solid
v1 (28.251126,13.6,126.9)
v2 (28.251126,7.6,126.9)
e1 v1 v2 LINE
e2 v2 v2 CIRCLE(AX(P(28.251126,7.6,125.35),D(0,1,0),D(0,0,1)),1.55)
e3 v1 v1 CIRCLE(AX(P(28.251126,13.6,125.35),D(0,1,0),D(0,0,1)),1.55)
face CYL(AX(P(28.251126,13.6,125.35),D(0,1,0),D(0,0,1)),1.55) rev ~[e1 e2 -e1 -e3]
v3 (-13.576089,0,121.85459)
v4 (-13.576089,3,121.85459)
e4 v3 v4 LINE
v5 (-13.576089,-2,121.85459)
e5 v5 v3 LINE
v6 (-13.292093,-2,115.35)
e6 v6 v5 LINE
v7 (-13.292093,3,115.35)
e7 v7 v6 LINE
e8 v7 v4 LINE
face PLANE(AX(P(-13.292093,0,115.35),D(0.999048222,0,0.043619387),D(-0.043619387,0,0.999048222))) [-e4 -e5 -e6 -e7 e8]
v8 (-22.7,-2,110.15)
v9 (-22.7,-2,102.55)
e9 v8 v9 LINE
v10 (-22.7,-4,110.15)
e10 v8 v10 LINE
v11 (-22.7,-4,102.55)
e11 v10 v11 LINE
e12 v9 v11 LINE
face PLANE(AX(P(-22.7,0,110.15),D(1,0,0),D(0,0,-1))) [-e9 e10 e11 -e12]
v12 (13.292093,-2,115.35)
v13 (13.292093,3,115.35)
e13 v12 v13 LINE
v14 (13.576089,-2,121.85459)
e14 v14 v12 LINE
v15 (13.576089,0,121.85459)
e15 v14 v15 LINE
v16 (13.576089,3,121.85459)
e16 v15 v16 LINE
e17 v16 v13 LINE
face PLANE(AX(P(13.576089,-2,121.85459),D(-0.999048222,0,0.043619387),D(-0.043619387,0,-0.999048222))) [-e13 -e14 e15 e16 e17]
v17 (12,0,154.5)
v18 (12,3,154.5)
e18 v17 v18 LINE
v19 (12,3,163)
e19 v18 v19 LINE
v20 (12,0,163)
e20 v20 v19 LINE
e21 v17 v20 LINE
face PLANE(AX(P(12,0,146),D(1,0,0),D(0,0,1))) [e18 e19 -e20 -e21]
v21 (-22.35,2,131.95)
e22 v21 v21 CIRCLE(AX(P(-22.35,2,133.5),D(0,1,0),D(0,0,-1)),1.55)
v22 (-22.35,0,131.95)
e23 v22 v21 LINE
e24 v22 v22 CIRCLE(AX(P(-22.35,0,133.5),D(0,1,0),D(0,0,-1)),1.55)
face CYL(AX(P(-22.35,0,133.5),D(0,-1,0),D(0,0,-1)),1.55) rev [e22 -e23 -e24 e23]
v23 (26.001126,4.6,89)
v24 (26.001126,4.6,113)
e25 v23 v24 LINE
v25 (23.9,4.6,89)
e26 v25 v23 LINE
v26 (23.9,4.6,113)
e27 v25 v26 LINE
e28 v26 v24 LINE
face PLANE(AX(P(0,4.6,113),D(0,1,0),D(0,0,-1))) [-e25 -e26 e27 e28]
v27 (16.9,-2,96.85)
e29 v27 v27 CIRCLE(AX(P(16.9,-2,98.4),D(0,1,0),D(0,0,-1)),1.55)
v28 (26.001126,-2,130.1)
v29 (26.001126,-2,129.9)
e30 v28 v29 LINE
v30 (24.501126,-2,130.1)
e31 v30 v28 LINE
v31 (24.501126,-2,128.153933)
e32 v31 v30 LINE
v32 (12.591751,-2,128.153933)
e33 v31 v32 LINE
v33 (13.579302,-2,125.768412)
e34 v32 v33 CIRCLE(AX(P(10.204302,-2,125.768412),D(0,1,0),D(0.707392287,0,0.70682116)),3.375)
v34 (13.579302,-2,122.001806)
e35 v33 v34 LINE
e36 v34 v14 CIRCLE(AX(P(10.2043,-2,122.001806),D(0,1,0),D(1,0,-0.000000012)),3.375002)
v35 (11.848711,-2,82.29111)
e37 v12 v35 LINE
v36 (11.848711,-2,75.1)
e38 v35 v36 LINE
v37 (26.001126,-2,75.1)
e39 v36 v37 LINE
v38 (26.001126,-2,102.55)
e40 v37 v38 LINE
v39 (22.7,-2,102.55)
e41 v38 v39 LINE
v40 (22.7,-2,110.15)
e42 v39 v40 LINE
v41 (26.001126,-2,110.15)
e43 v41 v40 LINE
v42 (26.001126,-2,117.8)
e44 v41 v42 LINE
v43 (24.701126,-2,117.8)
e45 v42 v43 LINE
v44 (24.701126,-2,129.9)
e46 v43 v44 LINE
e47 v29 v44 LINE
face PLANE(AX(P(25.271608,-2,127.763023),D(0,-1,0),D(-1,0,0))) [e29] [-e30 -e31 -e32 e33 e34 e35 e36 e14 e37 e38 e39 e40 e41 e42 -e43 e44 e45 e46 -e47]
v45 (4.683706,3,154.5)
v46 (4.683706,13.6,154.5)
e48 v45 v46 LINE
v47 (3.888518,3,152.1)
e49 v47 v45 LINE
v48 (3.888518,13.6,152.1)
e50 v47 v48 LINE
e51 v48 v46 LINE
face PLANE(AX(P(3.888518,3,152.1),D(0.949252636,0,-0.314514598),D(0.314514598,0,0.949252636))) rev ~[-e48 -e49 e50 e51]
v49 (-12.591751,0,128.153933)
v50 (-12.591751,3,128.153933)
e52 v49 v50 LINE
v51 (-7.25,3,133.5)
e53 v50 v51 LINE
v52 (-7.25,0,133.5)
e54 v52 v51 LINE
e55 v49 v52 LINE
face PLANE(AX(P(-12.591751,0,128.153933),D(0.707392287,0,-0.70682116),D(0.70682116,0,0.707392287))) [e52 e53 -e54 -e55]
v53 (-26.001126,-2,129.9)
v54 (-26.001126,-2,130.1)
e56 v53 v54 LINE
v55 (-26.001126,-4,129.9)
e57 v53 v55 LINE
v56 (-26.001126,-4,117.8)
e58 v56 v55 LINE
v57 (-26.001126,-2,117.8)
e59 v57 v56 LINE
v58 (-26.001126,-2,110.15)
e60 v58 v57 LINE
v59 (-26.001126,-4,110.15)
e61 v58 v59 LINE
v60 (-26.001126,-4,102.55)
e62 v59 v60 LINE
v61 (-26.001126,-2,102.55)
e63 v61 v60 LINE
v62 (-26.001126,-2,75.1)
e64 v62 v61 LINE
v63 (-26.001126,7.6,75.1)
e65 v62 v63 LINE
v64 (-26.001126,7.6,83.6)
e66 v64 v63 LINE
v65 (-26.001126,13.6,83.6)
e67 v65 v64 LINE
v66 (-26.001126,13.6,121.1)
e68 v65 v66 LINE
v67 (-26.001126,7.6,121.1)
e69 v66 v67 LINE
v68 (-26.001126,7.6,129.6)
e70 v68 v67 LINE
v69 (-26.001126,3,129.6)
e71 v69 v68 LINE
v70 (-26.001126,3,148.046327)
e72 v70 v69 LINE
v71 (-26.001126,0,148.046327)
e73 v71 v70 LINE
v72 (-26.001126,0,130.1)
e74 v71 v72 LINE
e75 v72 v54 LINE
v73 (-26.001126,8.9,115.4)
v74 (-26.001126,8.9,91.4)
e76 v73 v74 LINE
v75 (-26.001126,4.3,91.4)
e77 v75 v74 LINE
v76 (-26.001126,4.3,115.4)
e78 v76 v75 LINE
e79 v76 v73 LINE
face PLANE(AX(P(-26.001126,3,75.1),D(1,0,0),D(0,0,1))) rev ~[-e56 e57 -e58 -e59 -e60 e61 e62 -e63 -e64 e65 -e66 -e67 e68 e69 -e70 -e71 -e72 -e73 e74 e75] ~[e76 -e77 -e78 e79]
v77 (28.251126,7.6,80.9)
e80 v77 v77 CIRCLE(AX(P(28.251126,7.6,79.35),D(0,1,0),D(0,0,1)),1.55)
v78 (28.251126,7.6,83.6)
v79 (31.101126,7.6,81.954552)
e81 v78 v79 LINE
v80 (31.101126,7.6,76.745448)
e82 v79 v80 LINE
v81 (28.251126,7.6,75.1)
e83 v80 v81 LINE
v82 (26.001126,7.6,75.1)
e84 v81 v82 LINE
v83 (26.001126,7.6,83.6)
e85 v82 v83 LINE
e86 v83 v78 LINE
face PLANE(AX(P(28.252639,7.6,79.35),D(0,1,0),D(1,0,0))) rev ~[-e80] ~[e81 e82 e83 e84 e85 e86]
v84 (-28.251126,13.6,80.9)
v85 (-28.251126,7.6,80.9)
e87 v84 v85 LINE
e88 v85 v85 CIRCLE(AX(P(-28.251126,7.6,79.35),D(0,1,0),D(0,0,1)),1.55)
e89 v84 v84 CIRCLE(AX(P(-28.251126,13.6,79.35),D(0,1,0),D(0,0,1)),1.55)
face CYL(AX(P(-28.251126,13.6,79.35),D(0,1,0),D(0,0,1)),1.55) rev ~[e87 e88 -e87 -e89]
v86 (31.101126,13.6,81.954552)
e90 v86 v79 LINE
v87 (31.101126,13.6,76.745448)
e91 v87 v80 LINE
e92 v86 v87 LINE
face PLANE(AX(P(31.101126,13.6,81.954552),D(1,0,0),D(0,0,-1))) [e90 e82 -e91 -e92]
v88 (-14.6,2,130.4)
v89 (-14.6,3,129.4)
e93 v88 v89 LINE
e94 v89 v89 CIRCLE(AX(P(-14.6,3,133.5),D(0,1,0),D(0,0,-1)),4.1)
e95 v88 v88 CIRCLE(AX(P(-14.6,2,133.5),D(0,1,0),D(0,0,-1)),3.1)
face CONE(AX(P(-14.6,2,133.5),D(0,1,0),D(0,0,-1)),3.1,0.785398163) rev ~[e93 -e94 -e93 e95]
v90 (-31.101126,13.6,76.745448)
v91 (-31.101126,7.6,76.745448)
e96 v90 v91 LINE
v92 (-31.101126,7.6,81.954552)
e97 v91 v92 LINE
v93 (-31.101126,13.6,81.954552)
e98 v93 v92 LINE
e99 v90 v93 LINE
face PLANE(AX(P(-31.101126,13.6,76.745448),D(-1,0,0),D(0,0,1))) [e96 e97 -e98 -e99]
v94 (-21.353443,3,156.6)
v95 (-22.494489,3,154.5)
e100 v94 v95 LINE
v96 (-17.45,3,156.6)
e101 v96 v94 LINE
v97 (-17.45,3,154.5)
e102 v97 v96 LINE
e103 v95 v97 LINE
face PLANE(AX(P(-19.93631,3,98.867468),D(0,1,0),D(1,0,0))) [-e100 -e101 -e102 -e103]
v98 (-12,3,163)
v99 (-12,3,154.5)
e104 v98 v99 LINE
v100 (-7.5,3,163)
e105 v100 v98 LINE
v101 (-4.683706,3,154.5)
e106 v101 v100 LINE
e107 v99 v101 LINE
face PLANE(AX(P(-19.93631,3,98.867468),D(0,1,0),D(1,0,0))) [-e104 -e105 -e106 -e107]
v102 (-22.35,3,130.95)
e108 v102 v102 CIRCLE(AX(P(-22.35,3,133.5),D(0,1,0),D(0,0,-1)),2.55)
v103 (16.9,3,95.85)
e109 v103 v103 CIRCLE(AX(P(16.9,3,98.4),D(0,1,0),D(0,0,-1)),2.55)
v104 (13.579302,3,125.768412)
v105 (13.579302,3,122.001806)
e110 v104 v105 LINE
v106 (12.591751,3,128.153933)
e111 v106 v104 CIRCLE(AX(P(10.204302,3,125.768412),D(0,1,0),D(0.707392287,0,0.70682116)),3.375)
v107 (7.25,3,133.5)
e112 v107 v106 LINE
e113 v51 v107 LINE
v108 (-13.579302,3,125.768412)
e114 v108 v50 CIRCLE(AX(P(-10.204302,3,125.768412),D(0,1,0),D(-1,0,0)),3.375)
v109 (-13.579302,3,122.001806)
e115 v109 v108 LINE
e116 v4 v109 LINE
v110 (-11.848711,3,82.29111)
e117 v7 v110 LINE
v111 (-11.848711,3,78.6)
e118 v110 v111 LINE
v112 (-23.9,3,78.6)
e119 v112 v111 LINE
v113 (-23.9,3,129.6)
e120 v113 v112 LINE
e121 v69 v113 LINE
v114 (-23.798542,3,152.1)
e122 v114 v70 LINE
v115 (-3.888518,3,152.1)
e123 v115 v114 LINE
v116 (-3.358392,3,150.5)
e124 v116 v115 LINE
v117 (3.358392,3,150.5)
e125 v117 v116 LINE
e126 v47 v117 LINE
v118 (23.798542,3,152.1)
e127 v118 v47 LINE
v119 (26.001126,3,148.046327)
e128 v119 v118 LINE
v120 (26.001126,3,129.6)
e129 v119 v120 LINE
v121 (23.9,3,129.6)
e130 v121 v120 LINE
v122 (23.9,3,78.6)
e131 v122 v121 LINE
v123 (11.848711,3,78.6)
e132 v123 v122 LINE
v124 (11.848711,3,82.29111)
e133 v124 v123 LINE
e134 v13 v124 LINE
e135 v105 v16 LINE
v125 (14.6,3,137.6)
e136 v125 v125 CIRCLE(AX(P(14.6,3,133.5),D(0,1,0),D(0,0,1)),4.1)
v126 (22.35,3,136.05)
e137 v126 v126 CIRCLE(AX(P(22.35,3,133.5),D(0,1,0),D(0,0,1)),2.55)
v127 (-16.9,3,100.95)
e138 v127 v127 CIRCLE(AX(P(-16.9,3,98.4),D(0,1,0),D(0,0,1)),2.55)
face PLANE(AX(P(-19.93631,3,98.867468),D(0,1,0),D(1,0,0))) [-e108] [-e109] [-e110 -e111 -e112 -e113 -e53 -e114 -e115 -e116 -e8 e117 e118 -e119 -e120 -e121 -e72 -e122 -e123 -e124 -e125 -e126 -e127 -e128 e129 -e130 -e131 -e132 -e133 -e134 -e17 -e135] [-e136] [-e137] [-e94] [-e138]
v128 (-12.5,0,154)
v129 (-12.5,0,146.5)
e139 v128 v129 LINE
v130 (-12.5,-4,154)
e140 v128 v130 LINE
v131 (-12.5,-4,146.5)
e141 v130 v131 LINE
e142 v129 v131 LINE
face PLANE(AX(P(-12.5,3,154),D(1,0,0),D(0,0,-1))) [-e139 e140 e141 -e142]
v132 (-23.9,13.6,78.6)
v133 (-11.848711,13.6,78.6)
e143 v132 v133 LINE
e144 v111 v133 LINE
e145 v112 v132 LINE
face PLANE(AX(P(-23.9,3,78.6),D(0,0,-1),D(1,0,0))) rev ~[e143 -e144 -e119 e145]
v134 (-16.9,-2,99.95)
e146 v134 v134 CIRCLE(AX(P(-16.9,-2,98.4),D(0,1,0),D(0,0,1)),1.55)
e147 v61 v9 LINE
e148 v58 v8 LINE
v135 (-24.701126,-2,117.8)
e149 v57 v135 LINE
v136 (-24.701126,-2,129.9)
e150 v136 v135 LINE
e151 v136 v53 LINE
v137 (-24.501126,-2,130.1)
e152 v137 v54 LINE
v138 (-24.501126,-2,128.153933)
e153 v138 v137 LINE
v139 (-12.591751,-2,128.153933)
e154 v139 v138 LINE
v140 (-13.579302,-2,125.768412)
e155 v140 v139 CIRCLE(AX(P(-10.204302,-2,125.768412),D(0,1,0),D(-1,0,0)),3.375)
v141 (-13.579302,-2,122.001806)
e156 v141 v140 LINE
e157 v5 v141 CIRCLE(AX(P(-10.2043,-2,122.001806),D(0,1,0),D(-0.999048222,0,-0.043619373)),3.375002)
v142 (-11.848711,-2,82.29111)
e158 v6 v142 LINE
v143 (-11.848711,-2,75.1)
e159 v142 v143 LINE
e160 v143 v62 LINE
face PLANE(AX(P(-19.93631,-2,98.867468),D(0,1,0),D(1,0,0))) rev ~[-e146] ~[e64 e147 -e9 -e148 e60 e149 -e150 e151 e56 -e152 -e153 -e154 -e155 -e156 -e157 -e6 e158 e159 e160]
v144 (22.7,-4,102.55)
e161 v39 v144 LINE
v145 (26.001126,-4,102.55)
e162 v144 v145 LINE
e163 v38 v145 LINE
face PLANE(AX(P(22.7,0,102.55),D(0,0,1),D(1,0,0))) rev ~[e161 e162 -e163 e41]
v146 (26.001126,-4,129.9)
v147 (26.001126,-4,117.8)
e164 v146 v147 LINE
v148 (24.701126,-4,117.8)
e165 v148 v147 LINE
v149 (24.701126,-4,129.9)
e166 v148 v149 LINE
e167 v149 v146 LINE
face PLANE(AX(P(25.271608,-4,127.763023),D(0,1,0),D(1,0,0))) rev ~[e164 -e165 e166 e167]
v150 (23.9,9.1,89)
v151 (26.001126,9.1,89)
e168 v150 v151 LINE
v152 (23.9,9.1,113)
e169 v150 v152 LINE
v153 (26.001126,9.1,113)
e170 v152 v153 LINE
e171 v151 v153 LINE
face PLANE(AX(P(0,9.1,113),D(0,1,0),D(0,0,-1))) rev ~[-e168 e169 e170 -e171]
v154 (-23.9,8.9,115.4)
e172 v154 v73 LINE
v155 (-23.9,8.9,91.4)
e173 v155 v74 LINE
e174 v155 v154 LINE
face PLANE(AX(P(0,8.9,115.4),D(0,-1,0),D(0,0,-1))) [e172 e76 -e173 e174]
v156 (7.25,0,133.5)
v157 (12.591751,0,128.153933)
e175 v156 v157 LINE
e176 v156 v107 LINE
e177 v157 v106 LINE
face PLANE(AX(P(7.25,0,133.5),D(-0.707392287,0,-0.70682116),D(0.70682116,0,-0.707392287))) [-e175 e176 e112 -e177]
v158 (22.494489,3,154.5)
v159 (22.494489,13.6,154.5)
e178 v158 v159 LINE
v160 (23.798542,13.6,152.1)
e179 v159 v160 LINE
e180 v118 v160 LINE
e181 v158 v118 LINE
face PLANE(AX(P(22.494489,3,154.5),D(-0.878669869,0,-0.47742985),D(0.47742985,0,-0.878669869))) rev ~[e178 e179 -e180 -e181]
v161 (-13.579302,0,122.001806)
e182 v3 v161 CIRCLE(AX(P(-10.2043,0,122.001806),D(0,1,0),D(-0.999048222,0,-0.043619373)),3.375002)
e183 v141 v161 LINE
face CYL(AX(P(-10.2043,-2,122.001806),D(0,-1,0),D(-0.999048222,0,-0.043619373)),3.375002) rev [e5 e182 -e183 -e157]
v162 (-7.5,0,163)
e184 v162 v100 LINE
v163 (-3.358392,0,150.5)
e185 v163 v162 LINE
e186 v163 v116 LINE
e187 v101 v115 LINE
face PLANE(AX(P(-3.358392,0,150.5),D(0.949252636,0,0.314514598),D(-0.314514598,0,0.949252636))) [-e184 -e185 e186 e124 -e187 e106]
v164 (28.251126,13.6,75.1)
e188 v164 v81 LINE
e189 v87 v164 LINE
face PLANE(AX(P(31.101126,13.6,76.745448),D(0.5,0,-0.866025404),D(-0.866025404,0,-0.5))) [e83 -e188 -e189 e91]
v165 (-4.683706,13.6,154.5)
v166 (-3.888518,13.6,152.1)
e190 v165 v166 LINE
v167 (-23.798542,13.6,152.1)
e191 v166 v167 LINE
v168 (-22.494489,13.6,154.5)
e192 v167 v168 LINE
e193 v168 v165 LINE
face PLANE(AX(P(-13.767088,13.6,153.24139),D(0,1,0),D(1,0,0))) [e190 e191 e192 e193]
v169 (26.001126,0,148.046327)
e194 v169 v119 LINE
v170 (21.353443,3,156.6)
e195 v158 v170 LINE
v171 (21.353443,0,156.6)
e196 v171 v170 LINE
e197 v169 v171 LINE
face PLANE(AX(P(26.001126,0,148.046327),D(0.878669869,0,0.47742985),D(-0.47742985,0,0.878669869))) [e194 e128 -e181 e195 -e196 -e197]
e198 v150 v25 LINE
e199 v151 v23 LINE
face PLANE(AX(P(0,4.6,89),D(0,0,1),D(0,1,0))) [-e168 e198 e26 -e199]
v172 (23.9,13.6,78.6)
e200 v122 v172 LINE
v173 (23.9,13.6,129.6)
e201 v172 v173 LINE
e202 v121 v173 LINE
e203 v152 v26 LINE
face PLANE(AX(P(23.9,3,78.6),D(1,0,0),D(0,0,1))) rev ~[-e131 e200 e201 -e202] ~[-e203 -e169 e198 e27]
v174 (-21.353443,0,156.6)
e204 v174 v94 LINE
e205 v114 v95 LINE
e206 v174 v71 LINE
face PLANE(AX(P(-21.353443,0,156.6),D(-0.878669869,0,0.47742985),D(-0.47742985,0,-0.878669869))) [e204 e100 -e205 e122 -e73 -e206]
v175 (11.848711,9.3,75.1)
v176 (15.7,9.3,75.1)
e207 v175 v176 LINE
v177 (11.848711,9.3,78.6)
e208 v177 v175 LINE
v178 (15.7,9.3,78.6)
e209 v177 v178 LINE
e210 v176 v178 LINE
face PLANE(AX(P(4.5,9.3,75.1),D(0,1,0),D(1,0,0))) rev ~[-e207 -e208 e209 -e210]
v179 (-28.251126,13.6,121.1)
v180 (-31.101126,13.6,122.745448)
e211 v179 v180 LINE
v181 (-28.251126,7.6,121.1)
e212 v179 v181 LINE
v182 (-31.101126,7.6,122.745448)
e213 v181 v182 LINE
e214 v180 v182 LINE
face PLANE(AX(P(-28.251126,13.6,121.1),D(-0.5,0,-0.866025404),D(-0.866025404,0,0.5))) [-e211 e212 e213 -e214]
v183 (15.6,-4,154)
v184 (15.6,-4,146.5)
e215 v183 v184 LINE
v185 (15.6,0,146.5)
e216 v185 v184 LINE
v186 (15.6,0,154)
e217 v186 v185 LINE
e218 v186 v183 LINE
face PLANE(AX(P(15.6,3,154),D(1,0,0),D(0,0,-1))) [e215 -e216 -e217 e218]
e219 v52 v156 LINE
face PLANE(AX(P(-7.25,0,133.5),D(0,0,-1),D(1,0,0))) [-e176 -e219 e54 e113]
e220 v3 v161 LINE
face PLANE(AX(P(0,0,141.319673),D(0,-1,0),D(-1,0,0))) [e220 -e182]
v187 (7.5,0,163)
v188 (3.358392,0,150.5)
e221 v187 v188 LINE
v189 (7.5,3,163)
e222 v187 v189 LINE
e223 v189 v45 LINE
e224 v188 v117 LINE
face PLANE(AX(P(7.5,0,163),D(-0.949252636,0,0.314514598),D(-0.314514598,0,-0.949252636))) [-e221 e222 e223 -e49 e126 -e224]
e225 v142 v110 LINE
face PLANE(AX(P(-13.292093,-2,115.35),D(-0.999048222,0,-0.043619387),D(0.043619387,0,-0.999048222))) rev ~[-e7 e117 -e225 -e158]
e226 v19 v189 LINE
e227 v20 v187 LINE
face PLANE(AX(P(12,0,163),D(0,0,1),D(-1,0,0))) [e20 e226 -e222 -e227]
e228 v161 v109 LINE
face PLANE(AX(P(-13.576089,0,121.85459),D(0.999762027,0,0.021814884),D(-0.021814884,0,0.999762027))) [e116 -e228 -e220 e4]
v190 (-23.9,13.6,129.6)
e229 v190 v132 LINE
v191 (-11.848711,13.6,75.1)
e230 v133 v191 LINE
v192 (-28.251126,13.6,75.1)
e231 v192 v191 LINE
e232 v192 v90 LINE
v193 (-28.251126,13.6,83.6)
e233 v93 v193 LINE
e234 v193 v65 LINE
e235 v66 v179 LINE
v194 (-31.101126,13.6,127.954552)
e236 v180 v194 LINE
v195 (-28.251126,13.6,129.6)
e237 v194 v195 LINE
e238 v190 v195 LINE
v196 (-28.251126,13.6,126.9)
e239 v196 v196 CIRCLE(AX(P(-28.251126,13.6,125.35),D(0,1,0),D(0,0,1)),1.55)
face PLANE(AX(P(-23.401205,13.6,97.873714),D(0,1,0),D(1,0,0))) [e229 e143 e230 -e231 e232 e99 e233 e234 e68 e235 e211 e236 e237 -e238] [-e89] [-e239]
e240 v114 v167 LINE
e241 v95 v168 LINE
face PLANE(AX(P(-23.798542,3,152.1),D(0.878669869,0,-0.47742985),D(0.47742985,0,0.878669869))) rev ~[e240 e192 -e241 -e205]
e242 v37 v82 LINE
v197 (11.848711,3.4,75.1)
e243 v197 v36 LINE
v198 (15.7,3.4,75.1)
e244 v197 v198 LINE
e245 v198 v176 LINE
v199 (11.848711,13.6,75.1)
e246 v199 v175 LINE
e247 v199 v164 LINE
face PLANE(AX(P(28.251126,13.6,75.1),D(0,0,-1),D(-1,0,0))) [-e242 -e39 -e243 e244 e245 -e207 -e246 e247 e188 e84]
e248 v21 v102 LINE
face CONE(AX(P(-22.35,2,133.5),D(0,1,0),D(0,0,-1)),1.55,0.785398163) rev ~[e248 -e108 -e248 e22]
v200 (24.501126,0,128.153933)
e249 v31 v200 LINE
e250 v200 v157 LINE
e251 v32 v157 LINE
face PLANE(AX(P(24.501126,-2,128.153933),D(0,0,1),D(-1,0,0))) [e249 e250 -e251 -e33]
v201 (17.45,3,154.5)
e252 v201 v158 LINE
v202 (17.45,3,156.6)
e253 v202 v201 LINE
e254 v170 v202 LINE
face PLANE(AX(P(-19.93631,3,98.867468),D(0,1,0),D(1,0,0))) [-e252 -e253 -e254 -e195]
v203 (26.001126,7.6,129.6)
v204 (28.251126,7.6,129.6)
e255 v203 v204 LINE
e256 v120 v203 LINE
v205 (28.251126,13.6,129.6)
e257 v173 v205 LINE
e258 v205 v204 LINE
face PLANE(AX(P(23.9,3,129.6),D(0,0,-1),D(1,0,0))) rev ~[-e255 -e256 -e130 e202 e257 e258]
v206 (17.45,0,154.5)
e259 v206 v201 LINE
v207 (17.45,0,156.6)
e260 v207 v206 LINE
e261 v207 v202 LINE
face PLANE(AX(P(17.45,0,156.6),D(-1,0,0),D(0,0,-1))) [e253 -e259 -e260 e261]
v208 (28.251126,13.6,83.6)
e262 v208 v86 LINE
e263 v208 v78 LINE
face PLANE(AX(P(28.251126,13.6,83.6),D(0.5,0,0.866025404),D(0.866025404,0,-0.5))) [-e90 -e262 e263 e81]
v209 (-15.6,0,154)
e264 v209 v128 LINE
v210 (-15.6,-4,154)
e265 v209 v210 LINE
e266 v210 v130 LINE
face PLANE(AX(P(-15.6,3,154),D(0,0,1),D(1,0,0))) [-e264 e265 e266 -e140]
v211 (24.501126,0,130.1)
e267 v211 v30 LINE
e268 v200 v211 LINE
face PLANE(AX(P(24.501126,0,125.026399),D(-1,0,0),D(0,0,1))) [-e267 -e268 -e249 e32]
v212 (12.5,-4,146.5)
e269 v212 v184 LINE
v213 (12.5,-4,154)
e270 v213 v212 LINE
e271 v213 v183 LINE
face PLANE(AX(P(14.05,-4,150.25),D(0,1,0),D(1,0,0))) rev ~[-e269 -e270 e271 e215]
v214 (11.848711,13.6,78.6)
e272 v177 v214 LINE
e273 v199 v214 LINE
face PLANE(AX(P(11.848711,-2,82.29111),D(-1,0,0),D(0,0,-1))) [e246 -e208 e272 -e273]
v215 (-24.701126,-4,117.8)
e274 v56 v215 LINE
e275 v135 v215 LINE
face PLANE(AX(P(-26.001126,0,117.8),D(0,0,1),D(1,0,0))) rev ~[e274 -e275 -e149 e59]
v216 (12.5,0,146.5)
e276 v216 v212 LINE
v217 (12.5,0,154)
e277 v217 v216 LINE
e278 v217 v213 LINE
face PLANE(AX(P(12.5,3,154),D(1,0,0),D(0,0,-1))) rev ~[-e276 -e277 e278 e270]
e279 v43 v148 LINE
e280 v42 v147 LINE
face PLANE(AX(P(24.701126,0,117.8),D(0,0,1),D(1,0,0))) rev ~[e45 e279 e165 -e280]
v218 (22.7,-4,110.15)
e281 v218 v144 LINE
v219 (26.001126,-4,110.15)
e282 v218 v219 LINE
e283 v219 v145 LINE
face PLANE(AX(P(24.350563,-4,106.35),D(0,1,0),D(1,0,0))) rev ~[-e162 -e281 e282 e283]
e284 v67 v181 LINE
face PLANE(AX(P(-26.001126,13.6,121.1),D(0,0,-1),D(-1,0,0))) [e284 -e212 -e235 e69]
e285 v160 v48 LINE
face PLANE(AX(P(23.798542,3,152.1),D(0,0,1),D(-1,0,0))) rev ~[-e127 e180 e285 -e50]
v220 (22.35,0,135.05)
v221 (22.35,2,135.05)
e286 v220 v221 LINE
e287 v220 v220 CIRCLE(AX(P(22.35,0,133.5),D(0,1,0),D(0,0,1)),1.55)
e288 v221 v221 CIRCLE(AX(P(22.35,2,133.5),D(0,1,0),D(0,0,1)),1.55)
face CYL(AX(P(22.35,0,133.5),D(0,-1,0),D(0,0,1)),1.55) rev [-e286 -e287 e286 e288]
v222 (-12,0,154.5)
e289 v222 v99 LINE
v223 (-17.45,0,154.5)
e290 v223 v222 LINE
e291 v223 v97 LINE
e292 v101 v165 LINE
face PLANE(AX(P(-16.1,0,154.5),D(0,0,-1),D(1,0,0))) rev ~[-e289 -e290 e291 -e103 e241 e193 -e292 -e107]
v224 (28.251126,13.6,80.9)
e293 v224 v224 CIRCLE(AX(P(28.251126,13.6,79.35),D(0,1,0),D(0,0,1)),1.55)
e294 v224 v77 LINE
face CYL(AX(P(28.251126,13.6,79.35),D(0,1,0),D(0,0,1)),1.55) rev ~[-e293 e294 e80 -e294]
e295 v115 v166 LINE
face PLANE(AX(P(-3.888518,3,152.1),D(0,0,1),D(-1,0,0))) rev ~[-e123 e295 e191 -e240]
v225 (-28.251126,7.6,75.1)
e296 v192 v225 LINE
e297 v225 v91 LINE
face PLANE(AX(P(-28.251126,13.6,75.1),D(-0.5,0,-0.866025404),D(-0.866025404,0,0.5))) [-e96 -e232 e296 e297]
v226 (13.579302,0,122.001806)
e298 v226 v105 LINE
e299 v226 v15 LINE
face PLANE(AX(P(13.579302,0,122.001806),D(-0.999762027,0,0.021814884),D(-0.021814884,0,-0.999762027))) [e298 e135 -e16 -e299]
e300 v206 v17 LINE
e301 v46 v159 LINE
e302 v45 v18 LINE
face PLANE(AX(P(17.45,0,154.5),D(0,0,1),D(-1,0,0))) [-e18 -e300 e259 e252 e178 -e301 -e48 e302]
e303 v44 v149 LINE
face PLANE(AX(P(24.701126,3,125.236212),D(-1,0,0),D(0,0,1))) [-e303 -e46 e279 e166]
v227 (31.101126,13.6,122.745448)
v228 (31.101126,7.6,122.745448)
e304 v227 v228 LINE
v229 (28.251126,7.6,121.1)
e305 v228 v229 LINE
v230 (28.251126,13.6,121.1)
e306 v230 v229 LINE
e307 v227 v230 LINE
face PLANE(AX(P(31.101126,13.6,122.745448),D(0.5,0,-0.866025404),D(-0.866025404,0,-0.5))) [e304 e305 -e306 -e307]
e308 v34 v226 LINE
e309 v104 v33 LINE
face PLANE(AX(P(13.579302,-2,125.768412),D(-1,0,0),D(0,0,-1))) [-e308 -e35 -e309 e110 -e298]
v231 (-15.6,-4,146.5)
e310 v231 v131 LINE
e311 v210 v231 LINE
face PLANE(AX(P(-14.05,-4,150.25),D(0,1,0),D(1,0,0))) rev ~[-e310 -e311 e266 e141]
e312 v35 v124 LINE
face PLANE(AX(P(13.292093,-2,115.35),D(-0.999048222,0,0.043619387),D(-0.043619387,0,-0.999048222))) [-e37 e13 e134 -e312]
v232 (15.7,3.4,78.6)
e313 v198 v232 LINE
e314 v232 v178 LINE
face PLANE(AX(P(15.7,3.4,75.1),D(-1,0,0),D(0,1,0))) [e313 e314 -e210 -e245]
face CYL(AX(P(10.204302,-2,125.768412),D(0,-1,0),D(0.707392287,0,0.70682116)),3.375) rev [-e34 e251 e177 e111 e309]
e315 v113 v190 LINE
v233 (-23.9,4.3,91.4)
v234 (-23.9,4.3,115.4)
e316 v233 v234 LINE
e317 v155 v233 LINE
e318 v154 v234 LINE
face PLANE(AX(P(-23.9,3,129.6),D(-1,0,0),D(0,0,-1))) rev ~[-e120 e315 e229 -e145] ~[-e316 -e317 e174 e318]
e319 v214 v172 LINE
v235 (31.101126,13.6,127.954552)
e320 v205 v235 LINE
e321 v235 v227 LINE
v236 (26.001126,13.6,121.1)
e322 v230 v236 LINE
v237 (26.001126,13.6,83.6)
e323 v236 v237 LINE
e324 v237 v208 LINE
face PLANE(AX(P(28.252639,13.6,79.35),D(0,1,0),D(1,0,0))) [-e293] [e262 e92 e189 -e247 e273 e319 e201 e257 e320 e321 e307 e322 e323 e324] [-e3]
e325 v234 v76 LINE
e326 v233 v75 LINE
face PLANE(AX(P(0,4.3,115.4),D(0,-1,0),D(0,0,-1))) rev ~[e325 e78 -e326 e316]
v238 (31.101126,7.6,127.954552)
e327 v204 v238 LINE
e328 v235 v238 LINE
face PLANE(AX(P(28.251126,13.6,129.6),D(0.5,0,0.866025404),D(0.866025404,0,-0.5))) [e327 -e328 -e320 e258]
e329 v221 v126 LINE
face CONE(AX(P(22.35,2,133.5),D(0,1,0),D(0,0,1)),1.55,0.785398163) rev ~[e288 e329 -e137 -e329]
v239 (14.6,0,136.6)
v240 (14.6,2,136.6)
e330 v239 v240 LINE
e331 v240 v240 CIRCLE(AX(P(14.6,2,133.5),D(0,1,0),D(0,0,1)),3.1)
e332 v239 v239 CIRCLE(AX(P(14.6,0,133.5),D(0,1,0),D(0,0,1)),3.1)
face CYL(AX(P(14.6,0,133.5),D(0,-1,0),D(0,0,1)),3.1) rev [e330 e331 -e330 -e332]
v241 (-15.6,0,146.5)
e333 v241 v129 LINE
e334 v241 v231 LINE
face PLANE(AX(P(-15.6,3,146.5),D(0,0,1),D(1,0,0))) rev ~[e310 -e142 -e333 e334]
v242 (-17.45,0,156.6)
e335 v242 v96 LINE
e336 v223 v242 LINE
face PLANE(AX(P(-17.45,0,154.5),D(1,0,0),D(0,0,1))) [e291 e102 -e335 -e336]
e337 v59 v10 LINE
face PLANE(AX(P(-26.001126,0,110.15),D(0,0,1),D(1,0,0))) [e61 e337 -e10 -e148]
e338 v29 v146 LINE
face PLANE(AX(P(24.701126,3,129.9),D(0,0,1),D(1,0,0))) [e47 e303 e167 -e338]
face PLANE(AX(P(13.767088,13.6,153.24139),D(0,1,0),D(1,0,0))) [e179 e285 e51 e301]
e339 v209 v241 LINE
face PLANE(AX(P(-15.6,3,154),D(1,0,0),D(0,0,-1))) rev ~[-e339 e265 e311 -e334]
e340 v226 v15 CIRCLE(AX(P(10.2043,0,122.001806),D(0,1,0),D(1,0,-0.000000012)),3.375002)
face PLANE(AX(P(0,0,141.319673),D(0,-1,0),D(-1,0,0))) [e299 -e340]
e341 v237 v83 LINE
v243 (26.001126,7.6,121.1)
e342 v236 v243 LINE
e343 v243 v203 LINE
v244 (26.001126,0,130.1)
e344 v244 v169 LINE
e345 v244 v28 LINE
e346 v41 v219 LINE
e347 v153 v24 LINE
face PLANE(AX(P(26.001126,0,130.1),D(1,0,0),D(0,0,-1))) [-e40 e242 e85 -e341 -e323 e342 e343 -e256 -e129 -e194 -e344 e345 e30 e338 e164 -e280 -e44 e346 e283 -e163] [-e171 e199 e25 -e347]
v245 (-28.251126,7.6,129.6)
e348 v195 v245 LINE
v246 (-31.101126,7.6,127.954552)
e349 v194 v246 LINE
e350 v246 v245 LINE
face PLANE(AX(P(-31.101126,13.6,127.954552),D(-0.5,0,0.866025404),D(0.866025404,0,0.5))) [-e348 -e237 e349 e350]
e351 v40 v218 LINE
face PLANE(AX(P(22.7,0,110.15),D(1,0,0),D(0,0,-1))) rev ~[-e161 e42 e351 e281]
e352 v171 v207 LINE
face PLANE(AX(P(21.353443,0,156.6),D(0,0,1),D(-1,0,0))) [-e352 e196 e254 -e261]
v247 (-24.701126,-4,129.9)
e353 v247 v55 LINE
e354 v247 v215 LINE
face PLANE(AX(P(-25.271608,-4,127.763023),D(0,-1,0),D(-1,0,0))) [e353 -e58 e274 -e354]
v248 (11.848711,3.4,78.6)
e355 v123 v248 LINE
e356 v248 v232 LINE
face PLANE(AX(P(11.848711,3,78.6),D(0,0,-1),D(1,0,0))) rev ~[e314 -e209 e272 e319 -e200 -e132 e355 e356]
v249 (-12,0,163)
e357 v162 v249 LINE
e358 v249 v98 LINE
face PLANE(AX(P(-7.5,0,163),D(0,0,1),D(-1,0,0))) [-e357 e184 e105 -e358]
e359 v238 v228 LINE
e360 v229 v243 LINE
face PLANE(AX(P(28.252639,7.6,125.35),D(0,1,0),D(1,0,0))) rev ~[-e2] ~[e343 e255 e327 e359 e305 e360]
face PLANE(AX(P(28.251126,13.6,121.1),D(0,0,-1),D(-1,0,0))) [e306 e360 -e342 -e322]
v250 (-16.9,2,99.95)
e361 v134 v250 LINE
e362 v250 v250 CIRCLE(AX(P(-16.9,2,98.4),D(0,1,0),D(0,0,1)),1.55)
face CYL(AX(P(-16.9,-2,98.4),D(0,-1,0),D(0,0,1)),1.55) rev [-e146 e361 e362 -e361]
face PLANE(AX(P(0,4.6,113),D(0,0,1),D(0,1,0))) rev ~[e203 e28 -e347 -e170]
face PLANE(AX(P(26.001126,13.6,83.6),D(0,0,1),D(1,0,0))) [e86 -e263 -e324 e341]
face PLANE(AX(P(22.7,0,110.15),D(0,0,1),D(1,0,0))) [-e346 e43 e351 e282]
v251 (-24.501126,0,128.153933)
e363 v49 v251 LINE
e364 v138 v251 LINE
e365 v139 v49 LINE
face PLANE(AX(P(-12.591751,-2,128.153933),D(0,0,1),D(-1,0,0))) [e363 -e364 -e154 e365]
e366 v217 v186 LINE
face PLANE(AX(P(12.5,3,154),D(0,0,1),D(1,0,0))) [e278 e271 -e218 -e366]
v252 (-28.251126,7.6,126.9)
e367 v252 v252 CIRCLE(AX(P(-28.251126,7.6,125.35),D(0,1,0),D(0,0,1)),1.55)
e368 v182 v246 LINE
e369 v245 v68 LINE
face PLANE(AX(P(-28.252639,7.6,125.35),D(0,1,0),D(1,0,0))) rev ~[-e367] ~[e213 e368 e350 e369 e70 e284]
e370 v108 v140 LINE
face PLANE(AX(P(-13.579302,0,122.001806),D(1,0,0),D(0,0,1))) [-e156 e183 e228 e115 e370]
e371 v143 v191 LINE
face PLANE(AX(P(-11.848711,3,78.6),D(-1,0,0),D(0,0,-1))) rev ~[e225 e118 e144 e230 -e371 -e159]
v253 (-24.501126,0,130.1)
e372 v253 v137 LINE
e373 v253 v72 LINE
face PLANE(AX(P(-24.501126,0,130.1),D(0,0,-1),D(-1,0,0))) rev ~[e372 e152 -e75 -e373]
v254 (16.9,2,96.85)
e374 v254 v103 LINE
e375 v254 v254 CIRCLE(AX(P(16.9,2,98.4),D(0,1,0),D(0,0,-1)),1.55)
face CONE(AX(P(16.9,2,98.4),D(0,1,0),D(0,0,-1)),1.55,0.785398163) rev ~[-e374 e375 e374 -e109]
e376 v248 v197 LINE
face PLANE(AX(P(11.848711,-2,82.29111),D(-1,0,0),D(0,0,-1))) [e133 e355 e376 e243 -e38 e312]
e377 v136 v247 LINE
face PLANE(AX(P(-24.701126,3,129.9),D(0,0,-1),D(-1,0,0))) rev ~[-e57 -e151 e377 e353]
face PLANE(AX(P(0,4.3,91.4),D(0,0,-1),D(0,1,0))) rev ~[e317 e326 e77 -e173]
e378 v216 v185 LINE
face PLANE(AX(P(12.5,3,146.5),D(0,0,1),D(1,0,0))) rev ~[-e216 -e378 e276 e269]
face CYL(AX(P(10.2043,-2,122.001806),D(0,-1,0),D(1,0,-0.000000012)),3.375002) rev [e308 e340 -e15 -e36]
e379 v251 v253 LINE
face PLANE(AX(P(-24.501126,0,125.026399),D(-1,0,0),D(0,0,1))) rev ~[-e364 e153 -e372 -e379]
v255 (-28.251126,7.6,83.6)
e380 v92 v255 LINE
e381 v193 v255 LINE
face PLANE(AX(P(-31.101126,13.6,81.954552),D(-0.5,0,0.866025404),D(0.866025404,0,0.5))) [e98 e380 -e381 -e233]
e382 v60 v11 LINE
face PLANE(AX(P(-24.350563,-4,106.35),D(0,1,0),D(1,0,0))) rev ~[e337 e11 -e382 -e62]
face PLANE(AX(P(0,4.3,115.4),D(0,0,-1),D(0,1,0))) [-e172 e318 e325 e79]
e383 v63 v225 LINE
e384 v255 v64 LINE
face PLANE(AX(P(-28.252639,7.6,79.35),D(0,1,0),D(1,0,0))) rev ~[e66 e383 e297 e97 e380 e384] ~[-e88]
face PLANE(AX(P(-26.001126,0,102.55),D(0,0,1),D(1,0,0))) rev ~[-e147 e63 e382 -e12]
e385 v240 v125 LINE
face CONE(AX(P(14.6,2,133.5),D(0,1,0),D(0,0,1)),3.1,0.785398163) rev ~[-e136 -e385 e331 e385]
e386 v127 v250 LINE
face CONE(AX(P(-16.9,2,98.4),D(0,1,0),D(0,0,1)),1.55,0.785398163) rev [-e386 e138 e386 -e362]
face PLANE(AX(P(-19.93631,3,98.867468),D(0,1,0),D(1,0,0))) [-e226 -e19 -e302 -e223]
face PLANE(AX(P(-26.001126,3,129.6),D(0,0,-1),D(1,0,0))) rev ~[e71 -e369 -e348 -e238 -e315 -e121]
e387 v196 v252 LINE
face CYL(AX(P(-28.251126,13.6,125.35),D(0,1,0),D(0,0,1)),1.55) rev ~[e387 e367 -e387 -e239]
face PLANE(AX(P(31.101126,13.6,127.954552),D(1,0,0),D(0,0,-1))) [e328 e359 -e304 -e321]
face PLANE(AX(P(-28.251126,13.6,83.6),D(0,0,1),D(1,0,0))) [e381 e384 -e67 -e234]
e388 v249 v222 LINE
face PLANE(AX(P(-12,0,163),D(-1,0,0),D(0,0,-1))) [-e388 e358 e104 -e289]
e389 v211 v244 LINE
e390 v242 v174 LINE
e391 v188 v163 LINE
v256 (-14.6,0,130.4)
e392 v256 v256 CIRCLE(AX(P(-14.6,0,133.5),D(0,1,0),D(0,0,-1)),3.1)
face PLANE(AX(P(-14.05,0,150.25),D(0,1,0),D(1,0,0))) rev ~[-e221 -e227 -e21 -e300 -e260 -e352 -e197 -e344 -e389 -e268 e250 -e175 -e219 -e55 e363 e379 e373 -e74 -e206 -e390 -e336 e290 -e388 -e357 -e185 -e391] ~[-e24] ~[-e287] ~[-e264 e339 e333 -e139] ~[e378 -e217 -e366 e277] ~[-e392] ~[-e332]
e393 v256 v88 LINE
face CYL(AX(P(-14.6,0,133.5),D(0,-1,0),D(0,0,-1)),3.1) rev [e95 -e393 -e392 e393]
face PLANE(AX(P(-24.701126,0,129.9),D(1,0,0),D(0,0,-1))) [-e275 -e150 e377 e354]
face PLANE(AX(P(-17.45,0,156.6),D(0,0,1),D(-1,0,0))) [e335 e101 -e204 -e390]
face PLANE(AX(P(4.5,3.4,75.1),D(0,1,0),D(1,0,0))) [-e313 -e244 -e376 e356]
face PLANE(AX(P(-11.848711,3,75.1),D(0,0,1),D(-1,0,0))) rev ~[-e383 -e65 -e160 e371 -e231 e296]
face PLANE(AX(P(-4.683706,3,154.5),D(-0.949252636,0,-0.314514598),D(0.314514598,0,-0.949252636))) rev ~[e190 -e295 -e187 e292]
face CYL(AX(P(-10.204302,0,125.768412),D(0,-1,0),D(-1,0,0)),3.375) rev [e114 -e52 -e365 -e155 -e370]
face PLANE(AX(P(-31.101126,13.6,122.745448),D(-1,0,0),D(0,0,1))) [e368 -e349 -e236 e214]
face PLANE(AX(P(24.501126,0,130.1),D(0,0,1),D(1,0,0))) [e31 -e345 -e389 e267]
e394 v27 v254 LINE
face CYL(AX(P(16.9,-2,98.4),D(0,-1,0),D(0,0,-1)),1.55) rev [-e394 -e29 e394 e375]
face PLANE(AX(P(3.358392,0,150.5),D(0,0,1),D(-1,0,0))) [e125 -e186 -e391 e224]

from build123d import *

# Parameters (mm, degrees)
SKETCH_12157_R           = 1.55
SKETCH_12157_R_2         = 3.1
F_3MM_1_5MM_DEPTH        = 3
EXTRUDE_START            = -2
EXTRUDE_25031_DEPTH      = 2
SKETCH_5_W               = 4.1
SKETCH_5_H               = 8.5
SKETCH_5_W_2             = 3.1
SKETCH_5_H_2             = 7.5
EXTRUDE_32283_DEPTH      = 3
EXTRUDE_2_DEPTH          = 2
EXTRUDE_START_2          = 3
SKETCH_5_5_W             = 3.1
SKETCH_5_5_H             = 7.5
EXTRUDE_33009_DEPTH      = 7
EXTRUDE_34199_DEPTH      = 3
EXTRUDE_34199_DEPTH_BACK = 2
SKETCH2_R                = 1.55
SKETCH3_W                = 3.301126091
SKETCH3_H                = 7.6
SKETCH3_W_2              = 1.3
SKETCH3_H_2              = 12.1
EXTRUDE_40784_DEPTH      = 4
CHAMFER_40857_SIZE       = 1
EXTRUDE_42917_DEPTH      = 10.6
EXTRUDE_START_3          = 13.6
SKETCH_10_R              = 1.55
EXTRUDE_3_DEPTH          = 6
SKETCH_43735_W           = 24
SKETCH_43735_H           = 4.5
SKETCH_43735_W_2         = 23
SKETCH_43735_H_2         = 3.5
CUT_EXTRUDE_45378_DEPTH  = 167.496967072
SKETCH_44281_W           = 24
SKETCH_44281_H           = 4.6
SKETCH_44281_W_2         = 23
SKETCH_44281_H_2         = 3.6
CUT_EXTRUDE_45445_DEPTH  = 167.496967072
XT30_START               = 75.1
XT30_2_W                 = 11.2
XT30_2_H                 = 5.9
XT30_2_W_2               = 10.2
XT30_2_H_2               = 4.9
XT30_DEPTH               = 77


with BuildPart() as part:
    # Sketch 12157 → 基座_3mm_留线槽空间1.5mm (new body)
    with BuildSketch(Plane(origin=(0, 0, 0), x_dir=(1, 0, 0), z_dir=(0, 1, 0))):
        with BuildLine():
            Line((-24.501126091, -125.026398932), (-17.042092951, -115.35))
            Line((-17.042092951, -115.35), (-13.292092951, -115.35))
            Line((-13.292092951, -115.35), (-13.576089496, -121.85459027))
            Line((-13.576089496, -121.85459027), (-13.579301748, -122.001805703))
            Line((-13.579301748, -122.001805703), (-13.579301748, -125.768411616))
            ThreePointArc((-13.579301748, -125.768411616), (-13.322655903, -127.059338556), (-12.591750717, -128.153933031))
            Line((-12.591750717, -128.153933031), (-7.25, -133.5))
            Line((-7.25, -133.5), (7.25, -133.5))
            Line((7.25, -133.5), (12.591750717, -128.153933031))
            ThreePointArc((12.591750717, -128.153933031), (13.322655903, -127.059338556), (13.579301748, -125.768411616))
            Line((13.579301748, -125.768411616), (13.579301748, -122.001805703))
            Line((13.579301748, -122.001805703), (13.576089496, -121.85459027))
            Line((13.576089496, -121.85459027), (13.292092951, -115.35))
            Line((13.292092951, -115.35), (17.042092951, -115.35))
            Line((17.042092951, -115.35), (24.501126091, -125.026398932))
            Line((24.501126091, -125.026398932), (26.001126091, -126.6))
            Line((26.001126091, -126.6), (26.001126091, -130.1))
            Line((26.001126091, -130.1), (26.001126091, -148.0463267))
            Line((26.001126091, -148.0463267), (21.353443149, -156.6))
            Line((21.353443149, -156.6), (17.45, -156.6))
            Line((17.45, -156.6), (17.45, -154.5))
            Line((17.45, -154.5), (16.1, -154.5))
            Line((16.1, -154.5), (16.1, -146))
            Line((16.1, -146), (12, -146))
            Line((12, -146), (12, -163))
            Line((12, -163), (7.5, -163))
            Line((7.5, -163), (3.358391833, -150.5))
            Line((3.358391833, -150.5), (-3.358391833, -150.5))
            Line((-3.358391833, -150.5), (-7.5, -163))
            Line((-7.5, -163), (-12, -163))
            Line((-12, -163), (-12, -146))
            Line((-12, -146), (-16.1, -146))
            Line((-16.1, -146), (-16.1, -154.5))
            Line((-16.1, -154.5), (-17.45, -154.5))
            Line((-17.45, -154.5), (-17.45, -156.6))
            Line((-17.45, -156.6), (-21.353443149, -156.6))
            Line((-21.353443149, -156.6), (-26.001126091, -148.0463267))
            Line((-26.001126091, -148.0463267), (-26.001126091, -130.1))
            Line((-26.001126091, -130.1), (-26.001126091, -126.6))
            Line((-26.001126091, -126.6), (-24.501126091, -125.026398932))
        make_face()
        with Locations(Location((-22.35, -133.5, 0), (0, 0, 90))):
            Circle(SKETCH_12157_R, mode=Mode.SUBTRACT)
        with Locations(Location((-14.6, -133.5, 0), (0, 0, 90))):
            Circle(SKETCH_12157_R_2, mode=Mode.SUBTRACT)
        with Locations(Location((14.6, -133.5, 0), (0, 0, 270))):
            Circle(SKETCH_12157_R_2, mode=Mode.SUBTRACT)
        with Locations(Location((22.35, -133.5, 0), (0, 0, 270))):
            Circle(SKETCH_12157_R, mode=Mode.SUBTRACT)
    extrude(amount=F_3MM_1_5MM_DEPTH)

    # Sketch 24747 → Extrude 25031 (add)
    with BuildSketch(Plane(origin=(0, 0, 0), x_dir=(1, 0, 0), z_dir=(0, 1, 0)).offset(EXTRUDE_START)):
        with BuildLine():
            Line((13.292092951, -115.35), (17.042092951, -115.35))
            Line((17.042092951, -115.35), (24.501126091, -125.026398932))
            Line((24.501126091, -125.026398932), (24.501126091, -128.153933031))
            Line((24.501126091, -128.153933031), (12.591750717, -128.153933031))
            ThreePointArc((12.591750717, -128.153933031), (13.322655903, -127.059338556), (13.579301748, -125.768411616))
            Line((13.579301748, -125.768411616), (13.579301748, -122.001805703))
            ThreePointArc((13.579301748, -122.001805703), (13.578498589, -121.928180466), (13.576089496, -121.85459027))
            Line((13.576089496, -121.85459027), (13.292092951, -115.35))
        make_face()
        with BuildLine():
            Line((-13.292092951, -115.35), (-13.576089496, -121.85459027))
            ThreePointArc((-13.576089496, -121.85459027), (-13.578498589, -121.928180466), (-13.579301748, -122.001805703))
            Line((-13.579301748, -122.001805703), (-13.579301748, -125.768411616))
            ThreePointArc((-13.579301748, -125.768411616), (-13.322655903, -127.059338556), (-12.591750717, -128.153933031))
            Line((-12.591750717, -128.153933031), (-24.501126091, -128.153933031))
            Line((-24.501126091, -128.153933031), (-24.501126091, -125.026398932))
            Line((-24.501126091, -125.026398932), (-17.042092951, -115.35))
            Line((-17.042092951, -115.35), (-13.292092951, -115.35))
        make_face()
    extrude(amount=EXTRUDE_25031_DEPTH)

    # 草图5 → Extrude 32283 (add)
    # profile 1 of 8: a face of its own
    with BuildSketch(Plane(origin=(0, 0, 0), x_dir=(1, 0, 0), z_dir=(0, 1, 0))):
        with Locations((-14.05, -150.25)):
            Rectangle(SKETCH_5_W, SKETCH_5_H)
        with Locations((-14.05, -150.25)):
            Rectangle(SKETCH_5_W_2, SKETCH_5_H_2, mode=Mode.SUBTRACT)
    # profile 2 of 8: a face of its own
    with BuildSketch(Plane(origin=(0, 0, 0), x_dir=(1, 0, 0), z_dir=(0, 1, 0))):
        with Locations((-14.05, -150.25)):
            Rectangle(SKETCH_5_W_2, SKETCH_5_H_2)
    # profile 3 of 8: a face of its own
    with BuildSketch(Plane(origin=(0, 0, 0), x_dir=(1, 0, 0), z_dir=(0, 1, 0))):
        with Locations((14.05, -150.25)):
            Rectangle(SKETCH_5_W, SKETCH_5_H)
        with Locations((14.05, -150.25)):
            Rectangle(SKETCH_5_W_2, SKETCH_5_H_2, mode=Mode.SUBTRACT)
    # profile 4 of 8: a face of its own
    with BuildSketch(Plane(origin=(0, 0, 0), x_dir=(1, 0, 0), z_dir=(0, 1, 0))):
        with Locations((14.05, -150.25)):
            Rectangle(SKETCH_5_W_2, SKETCH_5_H_2)
    # profile 5 of 8: a face of its own
    with BuildSketch(Plane(origin=(0, 0, 0), x_dir=(1, 0, 0), z_dir=(0, 1, 0))):
        Polygon((-24.701126091, -125.236212408), (-26.001126091, -126.6), (-26.001126091, -129.9), (-24.701126091, -129.9), align=None)
    # profile 6 of 8: a face of its own
    with BuildSketch(Plane(origin=(0, 0, 0), x_dir=(1, 0, 0), z_dir=(0, 1, 0))):
        Polygon((-26.001126091, -130.1), (-26.001126091, -129.9), (-24.701126091, -129.9), (-24.701126091, -125.236212408), (-24.501126091, -125.026398932), (-24.501126091, -130.1), align=None)
    # profile 7 of 8: a face of its own
    with BuildSketch(Plane(origin=(0, 0, 0), x_dir=(1, 0, 0), z_dir=(0, 1, 0))):
        Polygon((26.001126091, -126.6), (26.001126091, -129.9), (24.701126091, -129.9), (24.701126091, -125.236212408), align=None)
    # profile 8 of 8: a face of its own
    with BuildSketch(Plane(origin=(0, 0, 0), x_dir=(1, 0, 0), z_dir=(0, 1, 0))):
        Polygon((24.501126091, -130.1), (26.001126091, -130.1), (26.001126091, -129.9), (24.701126091, -129.9), (24.701126091, -125.236212408), (24.501126091, -125.026398932), align=None)
    extrude(amount=EXTRUDE_32283_DEPTH)

    # 草图5<6> → 结构填充-2 (add)
    with BuildSketch(Plane(origin=(0, 0, 0), x_dir=(1, 0, 0), z_dir=(0, 1, 0))):
        Polygon((26.001126091, -126.6), (26.001126091, -129.9), (24.701126091, -129.9), (24.701126091, -125.236212408), align=None)
        Polygon((24.501126091, -130.1), (26.001126091, -130.1), (26.001126091, -129.9), (24.701126091, -129.9), (24.701126091, -125.236212408), (24.501126091, -125.026398932), align=None)
        Polygon((-24.701126091, -125.236212408), (-26.001126091, -126.6), (-26.001126091, -129.9), (-24.701126091, -129.9), align=None)
        Polygon((-26.001126091, -130.1), (-26.001126091, -129.9), (-24.701126091, -129.9), (-24.701126091, -125.236212408), (-24.501126091, -125.026398932), (-24.501126091, -130.1), align=None)
    extrude(amount=-EXTRUDE_2_DEPTH)

    # 草图5<5> → Extrude 33009 (add)
    with BuildSketch(Plane(origin=(0, 0, 0), x_dir=(1, 0, 0), z_dir=(0, 1, 0)).offset(EXTRUDE_START_2)):
        with Locations((-14.05, -150.25)):
            Rectangle(SKETCH_5_5_W, SKETCH_5_5_H)
        with Locations((14.05, -150.25)):
            Rectangle(SKETCH_5_5_W, SKETCH_5_5_H)
        Polygon((-24.701126091, -125.236212408), (-24.701126091, -129.9), (-26.001126091, -129.9), (-26.001126091, -126.6), align=None)
        Polygon((24.701126091, -125.236212408), (24.701126091, -129.9), (26.001126091, -129.9), (26.001126091, -126.6), align=None)
    extrude(amount=-EXTRUDE_33009_DEPTH)

    # Sketch2 → Extrude 34199 (add, two sides: drawn at the far end of the back side and taken through both)
    # profile 1 of 2: a face of its own
    with BuildSketch(Plane(origin=(0, 0, 0), x_dir=(1, 0, 0), z_dir=(0, 1, 0)).offset(-EXTRUDE_34199_DEPTH_BACK)):
        Polygon((-24.501126091, -125.026398932), (-17.042092951, -115.35), (-13.292092951, -115.35), (-11.848710623, -82.291109542), (-11.848710623, -75.1), (-26.001126091, -75.1), (-26.001126091, -126.6), align=None)
        with Locations(Location((-16.9, -98.4, 0), (0, 0, 270))):
            Circle(SKETCH2_R, mode=Mode.SUBTRACT)
    # profile 2 of 2: a face of its own
    with BuildSketch(Plane(origin=(0, 0, 0), x_dir=(1, 0, 0), z_dir=(0, 1, 0)).offset(-EXTRUDE_34199_DEPTH_BACK)):
        Polygon((24.501126091, -125.026398932), (17.042092951, -115.35), (13.292092951, -115.35), (11.848710623, -82.291109542), (11.848710623, -75.1), (26.001126091, -75.1), (26.001126091, -126.6), align=None)
        with Locations(Location((16.9, -98.4, 0), (0, 0, 90))):
            Circle(SKETCH2_R, mode=Mode.SUBTRACT)
    extrude(amount=EXTRUDE_34199_DEPTH + EXTRUDE_34199_DEPTH_BACK)

    # Sketch3 → Extrude 40784 (add)
    with BuildSketch(Plane(origin=(0, 0, 0), x_dir=(1, 0, 0), z_dir=(0, 1, 0))):
        with Locations((-24.350563046, -106.35)):
            Rectangle(SKETCH3_W, SKETCH3_H)
        with Locations((-25.351126091, -123.85)):
            Rectangle(SKETCH3_W_2, SKETCH3_H_2)
        with Locations((25.351126091, -123.85)):
            Rectangle(SKETCH3_W_2, SKETCH3_H_2)
        with Locations((24.350563046, -106.35)):
            Rectangle(SKETCH3_W, SKETCH3_H)
    extrude(amount=-EXTRUDE_40784_DEPTH)

    # Chamfer 40857
    chamfer_40857_edges = [part.edges().sort_by_distance(p)[0] for p in [
        (22.35, 3, 131.95),
        (-22.35, 3, 135.05),
        (-14.6, 3, 136.6),
        (-16.9, 3, 96.85),
        (16.9, 3, 99.95),
        (14.6, 3, 130.4),
    ]]
    chamfer(chamfer_40857_edges, length=CHAMFER_40857_SIZE)

    # Sketch4 → Extrude 42917 (add)
    with BuildSketch(Plane(origin=(0, 3, 0), x_dir=(1, 0, 0), z_dir=(0, 1, 0))):
        Polygon((-11.848710623, -78.6), (-11.848710623, -75.1), (-26.001126091, -75.1), (-26.001126091, -129.6), (-23.9, -129.6), (-23.9, -78.6), align=None)
        Polygon((11.848710623, -78.6), (23.9, -78.6), (23.9, -129.6), (26.001126091, -129.6), (26.001126091, -75.1), (11.848710623, -75.1), align=None)
        Polygon((-3.888517679, -152.1), (-23.798541589, -152.1), (-22.494489088, -154.5), (-17.45, -154.5), (-12, -154.5), (-4.683706447, -154.5), align=None)
        Polygon((22.494489088, -154.5), (23.798541589, -152.1), (3.888517679, -152.1), (4.683706447, -154.5), (12, -154.5), (17.45, -154.5), align=None)
    extrude(amount=EXTRUDE_42917_DEPTH)

    # 草图10 → 凸台-拉伸3 (add)
    # profile 1 of 4: a face of its own
    with BuildSketch(Plane(origin=(0, 0, 0), x_dir=(1, 0, 0), z_dir=(0, 1, 0)).offset(EXTRUDE_START_3)):
        Polygon((26.001126091, -75.1), (26.001126091, -83.6), (28.251126091, -83.6), (31.101126091, -81.954551733), (31.101126091, -76.745448267), (28.251126091, -75.1), align=None)
        with Locations(Location((28.251126091, -79.35, 0), (0, 0, 270))):
            Circle(SKETCH_10_R, mode=Mode.SUBTRACT)
    # profile 2 of 4: a face of its own
    with BuildSketch(Plane(origin=(0, 0, 0), x_dir=(1, 0, 0), z_dir=(0, 1, 0)).offset(EXTRUDE_START_3)):
        Polygon((26.001126091, -129.6), (28.251126091, -129.6), (31.101126091, -127.954551733), (31.101126091, -122.745448267), (28.251126091, -121.1), (26.001126091, -121.1), align=None)
        with Locations(Location((28.251126091, -125.35, 0), (0, 0, 270))):
            Circle(SKETCH_10_R, mode=Mode.SUBTRACT)
    # profile 3 of 4: a face of its own
    with BuildSketch(Plane(origin=(0, 0, 0), x_dir=(1, 0, 0), z_dir=(0, 1, 0)).offset(EXTRUDE_START_3)):
        Polygon((-31.101126091, -127.954551733), (-28.251126091, -129.6), (-26.001126091, -129.6), (-26.001126091, -121.1), (-28.251126091, -121.1), (-31.101126091, -122.745448267), align=None)
        with Locations(Location((-28.251126091, -125.35, 0), (0, 0, 270))):
            Circle(SKETCH_10_R, mode=Mode.SUBTRACT)
    # profile 4 of 4: a face of its own
    with BuildSketch(Plane(origin=(0, 0, 0), x_dir=(1, 0, 0), z_dir=(0, 1, 0)).offset(EXTRUDE_START_3)):
        Polygon((-31.101126091, -81.954551733), (-28.251126091, -83.6), (-26.001126091, -83.6), (-26.001126091, -75.1), (-28.251126091, -75.1), (-31.101126091, -76.745448267), align=None)
        with Locations(Location((-28.251126091, -79.35, 0), (0, 0, 270))):
            Circle(SKETCH_10_R, mode=Mode.SUBTRACT)
    extrude(amount=-EXTRUDE_3_DEPTH)

    # Sketch 43735 → Cut-Extrude 45378 (cut, through all)
    # profile 1 of 2: a face of its own
    with BuildSketch(Plane(origin=(0, 0, 0), x_dir=(0, 0, -1), z_dir=(1, 0, 0))):
        with Locations((-101, 6.85)):
            Rectangle(SKETCH_43735_W, SKETCH_43735_H)
        with Locations((-101, 6.85)):
            Rectangle(SKETCH_43735_W_2, SKETCH_43735_H_2, mode=Mode.SUBTRACT)
    # profile 2 of 2: a face of its own
    with BuildSketch(Plane(origin=(0, 0, 0), x_dir=(0, 0, -1), z_dir=(1, 0, 0))):
        with Locations((-101, 6.85)):
            Rectangle(SKETCH_43735_W_2, SKETCH_43735_H_2)
    extrude(amount=CUT_EXTRUDE_45378_DEPTH, mode=Mode.SUBTRACT)

    # Sketch 44281 → Cut-Extrude 45445 (cut, through all)
    # profile 1 of 2: a face of its own
    with BuildSketch(Plane(origin=(0, 0, 0), x_dir=(0, 0, -1), z_dir=(1, 0, 0))):
        with Locations((-103.4, 6.6)):
            Rectangle(SKETCH_44281_W, SKETCH_44281_H)
        with Locations((-103.4, 6.6)):
            Rectangle(SKETCH_44281_W_2, SKETCH_44281_H_2, mode=Mode.SUBTRACT)
    # profile 2 of 2: a face of its own
    with BuildSketch(Plane(origin=(0, 0, 0), x_dir=(0, 0, -1), z_dir=(1, 0, 0))):
        with Locations((-103.4, 6.6)):
            Rectangle(SKETCH_44281_W_2, SKETCH_44281_H_2)
    extrude(amount=-CUT_EXTRUDE_45445_DEPTH, mode=Mode.SUBTRACT)

    # xt30 2 → xt30 (cut)
    # profile 1 of 2: a face of its own
    with BuildSketch(Plane.XY.offset(XT30_START)):
        with Locations((10.1, 6.35)):
            Rectangle(XT30_2_W, XT30_2_H)
        with Locations((10.1, 6.35)):
            Rectangle(XT30_2_W_2, XT30_2_H_2, mode=Mode.SUBTRACT)
    # profile 2 of 2: a face of its own
    with BuildSketch(Plane.XY.offset(XT30_START)):
        with Locations((10.1, 6.35)):
            Rectangle(XT30_2_W_2, XT30_2_H_2)
    extrude(amount=XT30_DEPTH, mode=Mode.SUBTRACT)


solid = part.part
